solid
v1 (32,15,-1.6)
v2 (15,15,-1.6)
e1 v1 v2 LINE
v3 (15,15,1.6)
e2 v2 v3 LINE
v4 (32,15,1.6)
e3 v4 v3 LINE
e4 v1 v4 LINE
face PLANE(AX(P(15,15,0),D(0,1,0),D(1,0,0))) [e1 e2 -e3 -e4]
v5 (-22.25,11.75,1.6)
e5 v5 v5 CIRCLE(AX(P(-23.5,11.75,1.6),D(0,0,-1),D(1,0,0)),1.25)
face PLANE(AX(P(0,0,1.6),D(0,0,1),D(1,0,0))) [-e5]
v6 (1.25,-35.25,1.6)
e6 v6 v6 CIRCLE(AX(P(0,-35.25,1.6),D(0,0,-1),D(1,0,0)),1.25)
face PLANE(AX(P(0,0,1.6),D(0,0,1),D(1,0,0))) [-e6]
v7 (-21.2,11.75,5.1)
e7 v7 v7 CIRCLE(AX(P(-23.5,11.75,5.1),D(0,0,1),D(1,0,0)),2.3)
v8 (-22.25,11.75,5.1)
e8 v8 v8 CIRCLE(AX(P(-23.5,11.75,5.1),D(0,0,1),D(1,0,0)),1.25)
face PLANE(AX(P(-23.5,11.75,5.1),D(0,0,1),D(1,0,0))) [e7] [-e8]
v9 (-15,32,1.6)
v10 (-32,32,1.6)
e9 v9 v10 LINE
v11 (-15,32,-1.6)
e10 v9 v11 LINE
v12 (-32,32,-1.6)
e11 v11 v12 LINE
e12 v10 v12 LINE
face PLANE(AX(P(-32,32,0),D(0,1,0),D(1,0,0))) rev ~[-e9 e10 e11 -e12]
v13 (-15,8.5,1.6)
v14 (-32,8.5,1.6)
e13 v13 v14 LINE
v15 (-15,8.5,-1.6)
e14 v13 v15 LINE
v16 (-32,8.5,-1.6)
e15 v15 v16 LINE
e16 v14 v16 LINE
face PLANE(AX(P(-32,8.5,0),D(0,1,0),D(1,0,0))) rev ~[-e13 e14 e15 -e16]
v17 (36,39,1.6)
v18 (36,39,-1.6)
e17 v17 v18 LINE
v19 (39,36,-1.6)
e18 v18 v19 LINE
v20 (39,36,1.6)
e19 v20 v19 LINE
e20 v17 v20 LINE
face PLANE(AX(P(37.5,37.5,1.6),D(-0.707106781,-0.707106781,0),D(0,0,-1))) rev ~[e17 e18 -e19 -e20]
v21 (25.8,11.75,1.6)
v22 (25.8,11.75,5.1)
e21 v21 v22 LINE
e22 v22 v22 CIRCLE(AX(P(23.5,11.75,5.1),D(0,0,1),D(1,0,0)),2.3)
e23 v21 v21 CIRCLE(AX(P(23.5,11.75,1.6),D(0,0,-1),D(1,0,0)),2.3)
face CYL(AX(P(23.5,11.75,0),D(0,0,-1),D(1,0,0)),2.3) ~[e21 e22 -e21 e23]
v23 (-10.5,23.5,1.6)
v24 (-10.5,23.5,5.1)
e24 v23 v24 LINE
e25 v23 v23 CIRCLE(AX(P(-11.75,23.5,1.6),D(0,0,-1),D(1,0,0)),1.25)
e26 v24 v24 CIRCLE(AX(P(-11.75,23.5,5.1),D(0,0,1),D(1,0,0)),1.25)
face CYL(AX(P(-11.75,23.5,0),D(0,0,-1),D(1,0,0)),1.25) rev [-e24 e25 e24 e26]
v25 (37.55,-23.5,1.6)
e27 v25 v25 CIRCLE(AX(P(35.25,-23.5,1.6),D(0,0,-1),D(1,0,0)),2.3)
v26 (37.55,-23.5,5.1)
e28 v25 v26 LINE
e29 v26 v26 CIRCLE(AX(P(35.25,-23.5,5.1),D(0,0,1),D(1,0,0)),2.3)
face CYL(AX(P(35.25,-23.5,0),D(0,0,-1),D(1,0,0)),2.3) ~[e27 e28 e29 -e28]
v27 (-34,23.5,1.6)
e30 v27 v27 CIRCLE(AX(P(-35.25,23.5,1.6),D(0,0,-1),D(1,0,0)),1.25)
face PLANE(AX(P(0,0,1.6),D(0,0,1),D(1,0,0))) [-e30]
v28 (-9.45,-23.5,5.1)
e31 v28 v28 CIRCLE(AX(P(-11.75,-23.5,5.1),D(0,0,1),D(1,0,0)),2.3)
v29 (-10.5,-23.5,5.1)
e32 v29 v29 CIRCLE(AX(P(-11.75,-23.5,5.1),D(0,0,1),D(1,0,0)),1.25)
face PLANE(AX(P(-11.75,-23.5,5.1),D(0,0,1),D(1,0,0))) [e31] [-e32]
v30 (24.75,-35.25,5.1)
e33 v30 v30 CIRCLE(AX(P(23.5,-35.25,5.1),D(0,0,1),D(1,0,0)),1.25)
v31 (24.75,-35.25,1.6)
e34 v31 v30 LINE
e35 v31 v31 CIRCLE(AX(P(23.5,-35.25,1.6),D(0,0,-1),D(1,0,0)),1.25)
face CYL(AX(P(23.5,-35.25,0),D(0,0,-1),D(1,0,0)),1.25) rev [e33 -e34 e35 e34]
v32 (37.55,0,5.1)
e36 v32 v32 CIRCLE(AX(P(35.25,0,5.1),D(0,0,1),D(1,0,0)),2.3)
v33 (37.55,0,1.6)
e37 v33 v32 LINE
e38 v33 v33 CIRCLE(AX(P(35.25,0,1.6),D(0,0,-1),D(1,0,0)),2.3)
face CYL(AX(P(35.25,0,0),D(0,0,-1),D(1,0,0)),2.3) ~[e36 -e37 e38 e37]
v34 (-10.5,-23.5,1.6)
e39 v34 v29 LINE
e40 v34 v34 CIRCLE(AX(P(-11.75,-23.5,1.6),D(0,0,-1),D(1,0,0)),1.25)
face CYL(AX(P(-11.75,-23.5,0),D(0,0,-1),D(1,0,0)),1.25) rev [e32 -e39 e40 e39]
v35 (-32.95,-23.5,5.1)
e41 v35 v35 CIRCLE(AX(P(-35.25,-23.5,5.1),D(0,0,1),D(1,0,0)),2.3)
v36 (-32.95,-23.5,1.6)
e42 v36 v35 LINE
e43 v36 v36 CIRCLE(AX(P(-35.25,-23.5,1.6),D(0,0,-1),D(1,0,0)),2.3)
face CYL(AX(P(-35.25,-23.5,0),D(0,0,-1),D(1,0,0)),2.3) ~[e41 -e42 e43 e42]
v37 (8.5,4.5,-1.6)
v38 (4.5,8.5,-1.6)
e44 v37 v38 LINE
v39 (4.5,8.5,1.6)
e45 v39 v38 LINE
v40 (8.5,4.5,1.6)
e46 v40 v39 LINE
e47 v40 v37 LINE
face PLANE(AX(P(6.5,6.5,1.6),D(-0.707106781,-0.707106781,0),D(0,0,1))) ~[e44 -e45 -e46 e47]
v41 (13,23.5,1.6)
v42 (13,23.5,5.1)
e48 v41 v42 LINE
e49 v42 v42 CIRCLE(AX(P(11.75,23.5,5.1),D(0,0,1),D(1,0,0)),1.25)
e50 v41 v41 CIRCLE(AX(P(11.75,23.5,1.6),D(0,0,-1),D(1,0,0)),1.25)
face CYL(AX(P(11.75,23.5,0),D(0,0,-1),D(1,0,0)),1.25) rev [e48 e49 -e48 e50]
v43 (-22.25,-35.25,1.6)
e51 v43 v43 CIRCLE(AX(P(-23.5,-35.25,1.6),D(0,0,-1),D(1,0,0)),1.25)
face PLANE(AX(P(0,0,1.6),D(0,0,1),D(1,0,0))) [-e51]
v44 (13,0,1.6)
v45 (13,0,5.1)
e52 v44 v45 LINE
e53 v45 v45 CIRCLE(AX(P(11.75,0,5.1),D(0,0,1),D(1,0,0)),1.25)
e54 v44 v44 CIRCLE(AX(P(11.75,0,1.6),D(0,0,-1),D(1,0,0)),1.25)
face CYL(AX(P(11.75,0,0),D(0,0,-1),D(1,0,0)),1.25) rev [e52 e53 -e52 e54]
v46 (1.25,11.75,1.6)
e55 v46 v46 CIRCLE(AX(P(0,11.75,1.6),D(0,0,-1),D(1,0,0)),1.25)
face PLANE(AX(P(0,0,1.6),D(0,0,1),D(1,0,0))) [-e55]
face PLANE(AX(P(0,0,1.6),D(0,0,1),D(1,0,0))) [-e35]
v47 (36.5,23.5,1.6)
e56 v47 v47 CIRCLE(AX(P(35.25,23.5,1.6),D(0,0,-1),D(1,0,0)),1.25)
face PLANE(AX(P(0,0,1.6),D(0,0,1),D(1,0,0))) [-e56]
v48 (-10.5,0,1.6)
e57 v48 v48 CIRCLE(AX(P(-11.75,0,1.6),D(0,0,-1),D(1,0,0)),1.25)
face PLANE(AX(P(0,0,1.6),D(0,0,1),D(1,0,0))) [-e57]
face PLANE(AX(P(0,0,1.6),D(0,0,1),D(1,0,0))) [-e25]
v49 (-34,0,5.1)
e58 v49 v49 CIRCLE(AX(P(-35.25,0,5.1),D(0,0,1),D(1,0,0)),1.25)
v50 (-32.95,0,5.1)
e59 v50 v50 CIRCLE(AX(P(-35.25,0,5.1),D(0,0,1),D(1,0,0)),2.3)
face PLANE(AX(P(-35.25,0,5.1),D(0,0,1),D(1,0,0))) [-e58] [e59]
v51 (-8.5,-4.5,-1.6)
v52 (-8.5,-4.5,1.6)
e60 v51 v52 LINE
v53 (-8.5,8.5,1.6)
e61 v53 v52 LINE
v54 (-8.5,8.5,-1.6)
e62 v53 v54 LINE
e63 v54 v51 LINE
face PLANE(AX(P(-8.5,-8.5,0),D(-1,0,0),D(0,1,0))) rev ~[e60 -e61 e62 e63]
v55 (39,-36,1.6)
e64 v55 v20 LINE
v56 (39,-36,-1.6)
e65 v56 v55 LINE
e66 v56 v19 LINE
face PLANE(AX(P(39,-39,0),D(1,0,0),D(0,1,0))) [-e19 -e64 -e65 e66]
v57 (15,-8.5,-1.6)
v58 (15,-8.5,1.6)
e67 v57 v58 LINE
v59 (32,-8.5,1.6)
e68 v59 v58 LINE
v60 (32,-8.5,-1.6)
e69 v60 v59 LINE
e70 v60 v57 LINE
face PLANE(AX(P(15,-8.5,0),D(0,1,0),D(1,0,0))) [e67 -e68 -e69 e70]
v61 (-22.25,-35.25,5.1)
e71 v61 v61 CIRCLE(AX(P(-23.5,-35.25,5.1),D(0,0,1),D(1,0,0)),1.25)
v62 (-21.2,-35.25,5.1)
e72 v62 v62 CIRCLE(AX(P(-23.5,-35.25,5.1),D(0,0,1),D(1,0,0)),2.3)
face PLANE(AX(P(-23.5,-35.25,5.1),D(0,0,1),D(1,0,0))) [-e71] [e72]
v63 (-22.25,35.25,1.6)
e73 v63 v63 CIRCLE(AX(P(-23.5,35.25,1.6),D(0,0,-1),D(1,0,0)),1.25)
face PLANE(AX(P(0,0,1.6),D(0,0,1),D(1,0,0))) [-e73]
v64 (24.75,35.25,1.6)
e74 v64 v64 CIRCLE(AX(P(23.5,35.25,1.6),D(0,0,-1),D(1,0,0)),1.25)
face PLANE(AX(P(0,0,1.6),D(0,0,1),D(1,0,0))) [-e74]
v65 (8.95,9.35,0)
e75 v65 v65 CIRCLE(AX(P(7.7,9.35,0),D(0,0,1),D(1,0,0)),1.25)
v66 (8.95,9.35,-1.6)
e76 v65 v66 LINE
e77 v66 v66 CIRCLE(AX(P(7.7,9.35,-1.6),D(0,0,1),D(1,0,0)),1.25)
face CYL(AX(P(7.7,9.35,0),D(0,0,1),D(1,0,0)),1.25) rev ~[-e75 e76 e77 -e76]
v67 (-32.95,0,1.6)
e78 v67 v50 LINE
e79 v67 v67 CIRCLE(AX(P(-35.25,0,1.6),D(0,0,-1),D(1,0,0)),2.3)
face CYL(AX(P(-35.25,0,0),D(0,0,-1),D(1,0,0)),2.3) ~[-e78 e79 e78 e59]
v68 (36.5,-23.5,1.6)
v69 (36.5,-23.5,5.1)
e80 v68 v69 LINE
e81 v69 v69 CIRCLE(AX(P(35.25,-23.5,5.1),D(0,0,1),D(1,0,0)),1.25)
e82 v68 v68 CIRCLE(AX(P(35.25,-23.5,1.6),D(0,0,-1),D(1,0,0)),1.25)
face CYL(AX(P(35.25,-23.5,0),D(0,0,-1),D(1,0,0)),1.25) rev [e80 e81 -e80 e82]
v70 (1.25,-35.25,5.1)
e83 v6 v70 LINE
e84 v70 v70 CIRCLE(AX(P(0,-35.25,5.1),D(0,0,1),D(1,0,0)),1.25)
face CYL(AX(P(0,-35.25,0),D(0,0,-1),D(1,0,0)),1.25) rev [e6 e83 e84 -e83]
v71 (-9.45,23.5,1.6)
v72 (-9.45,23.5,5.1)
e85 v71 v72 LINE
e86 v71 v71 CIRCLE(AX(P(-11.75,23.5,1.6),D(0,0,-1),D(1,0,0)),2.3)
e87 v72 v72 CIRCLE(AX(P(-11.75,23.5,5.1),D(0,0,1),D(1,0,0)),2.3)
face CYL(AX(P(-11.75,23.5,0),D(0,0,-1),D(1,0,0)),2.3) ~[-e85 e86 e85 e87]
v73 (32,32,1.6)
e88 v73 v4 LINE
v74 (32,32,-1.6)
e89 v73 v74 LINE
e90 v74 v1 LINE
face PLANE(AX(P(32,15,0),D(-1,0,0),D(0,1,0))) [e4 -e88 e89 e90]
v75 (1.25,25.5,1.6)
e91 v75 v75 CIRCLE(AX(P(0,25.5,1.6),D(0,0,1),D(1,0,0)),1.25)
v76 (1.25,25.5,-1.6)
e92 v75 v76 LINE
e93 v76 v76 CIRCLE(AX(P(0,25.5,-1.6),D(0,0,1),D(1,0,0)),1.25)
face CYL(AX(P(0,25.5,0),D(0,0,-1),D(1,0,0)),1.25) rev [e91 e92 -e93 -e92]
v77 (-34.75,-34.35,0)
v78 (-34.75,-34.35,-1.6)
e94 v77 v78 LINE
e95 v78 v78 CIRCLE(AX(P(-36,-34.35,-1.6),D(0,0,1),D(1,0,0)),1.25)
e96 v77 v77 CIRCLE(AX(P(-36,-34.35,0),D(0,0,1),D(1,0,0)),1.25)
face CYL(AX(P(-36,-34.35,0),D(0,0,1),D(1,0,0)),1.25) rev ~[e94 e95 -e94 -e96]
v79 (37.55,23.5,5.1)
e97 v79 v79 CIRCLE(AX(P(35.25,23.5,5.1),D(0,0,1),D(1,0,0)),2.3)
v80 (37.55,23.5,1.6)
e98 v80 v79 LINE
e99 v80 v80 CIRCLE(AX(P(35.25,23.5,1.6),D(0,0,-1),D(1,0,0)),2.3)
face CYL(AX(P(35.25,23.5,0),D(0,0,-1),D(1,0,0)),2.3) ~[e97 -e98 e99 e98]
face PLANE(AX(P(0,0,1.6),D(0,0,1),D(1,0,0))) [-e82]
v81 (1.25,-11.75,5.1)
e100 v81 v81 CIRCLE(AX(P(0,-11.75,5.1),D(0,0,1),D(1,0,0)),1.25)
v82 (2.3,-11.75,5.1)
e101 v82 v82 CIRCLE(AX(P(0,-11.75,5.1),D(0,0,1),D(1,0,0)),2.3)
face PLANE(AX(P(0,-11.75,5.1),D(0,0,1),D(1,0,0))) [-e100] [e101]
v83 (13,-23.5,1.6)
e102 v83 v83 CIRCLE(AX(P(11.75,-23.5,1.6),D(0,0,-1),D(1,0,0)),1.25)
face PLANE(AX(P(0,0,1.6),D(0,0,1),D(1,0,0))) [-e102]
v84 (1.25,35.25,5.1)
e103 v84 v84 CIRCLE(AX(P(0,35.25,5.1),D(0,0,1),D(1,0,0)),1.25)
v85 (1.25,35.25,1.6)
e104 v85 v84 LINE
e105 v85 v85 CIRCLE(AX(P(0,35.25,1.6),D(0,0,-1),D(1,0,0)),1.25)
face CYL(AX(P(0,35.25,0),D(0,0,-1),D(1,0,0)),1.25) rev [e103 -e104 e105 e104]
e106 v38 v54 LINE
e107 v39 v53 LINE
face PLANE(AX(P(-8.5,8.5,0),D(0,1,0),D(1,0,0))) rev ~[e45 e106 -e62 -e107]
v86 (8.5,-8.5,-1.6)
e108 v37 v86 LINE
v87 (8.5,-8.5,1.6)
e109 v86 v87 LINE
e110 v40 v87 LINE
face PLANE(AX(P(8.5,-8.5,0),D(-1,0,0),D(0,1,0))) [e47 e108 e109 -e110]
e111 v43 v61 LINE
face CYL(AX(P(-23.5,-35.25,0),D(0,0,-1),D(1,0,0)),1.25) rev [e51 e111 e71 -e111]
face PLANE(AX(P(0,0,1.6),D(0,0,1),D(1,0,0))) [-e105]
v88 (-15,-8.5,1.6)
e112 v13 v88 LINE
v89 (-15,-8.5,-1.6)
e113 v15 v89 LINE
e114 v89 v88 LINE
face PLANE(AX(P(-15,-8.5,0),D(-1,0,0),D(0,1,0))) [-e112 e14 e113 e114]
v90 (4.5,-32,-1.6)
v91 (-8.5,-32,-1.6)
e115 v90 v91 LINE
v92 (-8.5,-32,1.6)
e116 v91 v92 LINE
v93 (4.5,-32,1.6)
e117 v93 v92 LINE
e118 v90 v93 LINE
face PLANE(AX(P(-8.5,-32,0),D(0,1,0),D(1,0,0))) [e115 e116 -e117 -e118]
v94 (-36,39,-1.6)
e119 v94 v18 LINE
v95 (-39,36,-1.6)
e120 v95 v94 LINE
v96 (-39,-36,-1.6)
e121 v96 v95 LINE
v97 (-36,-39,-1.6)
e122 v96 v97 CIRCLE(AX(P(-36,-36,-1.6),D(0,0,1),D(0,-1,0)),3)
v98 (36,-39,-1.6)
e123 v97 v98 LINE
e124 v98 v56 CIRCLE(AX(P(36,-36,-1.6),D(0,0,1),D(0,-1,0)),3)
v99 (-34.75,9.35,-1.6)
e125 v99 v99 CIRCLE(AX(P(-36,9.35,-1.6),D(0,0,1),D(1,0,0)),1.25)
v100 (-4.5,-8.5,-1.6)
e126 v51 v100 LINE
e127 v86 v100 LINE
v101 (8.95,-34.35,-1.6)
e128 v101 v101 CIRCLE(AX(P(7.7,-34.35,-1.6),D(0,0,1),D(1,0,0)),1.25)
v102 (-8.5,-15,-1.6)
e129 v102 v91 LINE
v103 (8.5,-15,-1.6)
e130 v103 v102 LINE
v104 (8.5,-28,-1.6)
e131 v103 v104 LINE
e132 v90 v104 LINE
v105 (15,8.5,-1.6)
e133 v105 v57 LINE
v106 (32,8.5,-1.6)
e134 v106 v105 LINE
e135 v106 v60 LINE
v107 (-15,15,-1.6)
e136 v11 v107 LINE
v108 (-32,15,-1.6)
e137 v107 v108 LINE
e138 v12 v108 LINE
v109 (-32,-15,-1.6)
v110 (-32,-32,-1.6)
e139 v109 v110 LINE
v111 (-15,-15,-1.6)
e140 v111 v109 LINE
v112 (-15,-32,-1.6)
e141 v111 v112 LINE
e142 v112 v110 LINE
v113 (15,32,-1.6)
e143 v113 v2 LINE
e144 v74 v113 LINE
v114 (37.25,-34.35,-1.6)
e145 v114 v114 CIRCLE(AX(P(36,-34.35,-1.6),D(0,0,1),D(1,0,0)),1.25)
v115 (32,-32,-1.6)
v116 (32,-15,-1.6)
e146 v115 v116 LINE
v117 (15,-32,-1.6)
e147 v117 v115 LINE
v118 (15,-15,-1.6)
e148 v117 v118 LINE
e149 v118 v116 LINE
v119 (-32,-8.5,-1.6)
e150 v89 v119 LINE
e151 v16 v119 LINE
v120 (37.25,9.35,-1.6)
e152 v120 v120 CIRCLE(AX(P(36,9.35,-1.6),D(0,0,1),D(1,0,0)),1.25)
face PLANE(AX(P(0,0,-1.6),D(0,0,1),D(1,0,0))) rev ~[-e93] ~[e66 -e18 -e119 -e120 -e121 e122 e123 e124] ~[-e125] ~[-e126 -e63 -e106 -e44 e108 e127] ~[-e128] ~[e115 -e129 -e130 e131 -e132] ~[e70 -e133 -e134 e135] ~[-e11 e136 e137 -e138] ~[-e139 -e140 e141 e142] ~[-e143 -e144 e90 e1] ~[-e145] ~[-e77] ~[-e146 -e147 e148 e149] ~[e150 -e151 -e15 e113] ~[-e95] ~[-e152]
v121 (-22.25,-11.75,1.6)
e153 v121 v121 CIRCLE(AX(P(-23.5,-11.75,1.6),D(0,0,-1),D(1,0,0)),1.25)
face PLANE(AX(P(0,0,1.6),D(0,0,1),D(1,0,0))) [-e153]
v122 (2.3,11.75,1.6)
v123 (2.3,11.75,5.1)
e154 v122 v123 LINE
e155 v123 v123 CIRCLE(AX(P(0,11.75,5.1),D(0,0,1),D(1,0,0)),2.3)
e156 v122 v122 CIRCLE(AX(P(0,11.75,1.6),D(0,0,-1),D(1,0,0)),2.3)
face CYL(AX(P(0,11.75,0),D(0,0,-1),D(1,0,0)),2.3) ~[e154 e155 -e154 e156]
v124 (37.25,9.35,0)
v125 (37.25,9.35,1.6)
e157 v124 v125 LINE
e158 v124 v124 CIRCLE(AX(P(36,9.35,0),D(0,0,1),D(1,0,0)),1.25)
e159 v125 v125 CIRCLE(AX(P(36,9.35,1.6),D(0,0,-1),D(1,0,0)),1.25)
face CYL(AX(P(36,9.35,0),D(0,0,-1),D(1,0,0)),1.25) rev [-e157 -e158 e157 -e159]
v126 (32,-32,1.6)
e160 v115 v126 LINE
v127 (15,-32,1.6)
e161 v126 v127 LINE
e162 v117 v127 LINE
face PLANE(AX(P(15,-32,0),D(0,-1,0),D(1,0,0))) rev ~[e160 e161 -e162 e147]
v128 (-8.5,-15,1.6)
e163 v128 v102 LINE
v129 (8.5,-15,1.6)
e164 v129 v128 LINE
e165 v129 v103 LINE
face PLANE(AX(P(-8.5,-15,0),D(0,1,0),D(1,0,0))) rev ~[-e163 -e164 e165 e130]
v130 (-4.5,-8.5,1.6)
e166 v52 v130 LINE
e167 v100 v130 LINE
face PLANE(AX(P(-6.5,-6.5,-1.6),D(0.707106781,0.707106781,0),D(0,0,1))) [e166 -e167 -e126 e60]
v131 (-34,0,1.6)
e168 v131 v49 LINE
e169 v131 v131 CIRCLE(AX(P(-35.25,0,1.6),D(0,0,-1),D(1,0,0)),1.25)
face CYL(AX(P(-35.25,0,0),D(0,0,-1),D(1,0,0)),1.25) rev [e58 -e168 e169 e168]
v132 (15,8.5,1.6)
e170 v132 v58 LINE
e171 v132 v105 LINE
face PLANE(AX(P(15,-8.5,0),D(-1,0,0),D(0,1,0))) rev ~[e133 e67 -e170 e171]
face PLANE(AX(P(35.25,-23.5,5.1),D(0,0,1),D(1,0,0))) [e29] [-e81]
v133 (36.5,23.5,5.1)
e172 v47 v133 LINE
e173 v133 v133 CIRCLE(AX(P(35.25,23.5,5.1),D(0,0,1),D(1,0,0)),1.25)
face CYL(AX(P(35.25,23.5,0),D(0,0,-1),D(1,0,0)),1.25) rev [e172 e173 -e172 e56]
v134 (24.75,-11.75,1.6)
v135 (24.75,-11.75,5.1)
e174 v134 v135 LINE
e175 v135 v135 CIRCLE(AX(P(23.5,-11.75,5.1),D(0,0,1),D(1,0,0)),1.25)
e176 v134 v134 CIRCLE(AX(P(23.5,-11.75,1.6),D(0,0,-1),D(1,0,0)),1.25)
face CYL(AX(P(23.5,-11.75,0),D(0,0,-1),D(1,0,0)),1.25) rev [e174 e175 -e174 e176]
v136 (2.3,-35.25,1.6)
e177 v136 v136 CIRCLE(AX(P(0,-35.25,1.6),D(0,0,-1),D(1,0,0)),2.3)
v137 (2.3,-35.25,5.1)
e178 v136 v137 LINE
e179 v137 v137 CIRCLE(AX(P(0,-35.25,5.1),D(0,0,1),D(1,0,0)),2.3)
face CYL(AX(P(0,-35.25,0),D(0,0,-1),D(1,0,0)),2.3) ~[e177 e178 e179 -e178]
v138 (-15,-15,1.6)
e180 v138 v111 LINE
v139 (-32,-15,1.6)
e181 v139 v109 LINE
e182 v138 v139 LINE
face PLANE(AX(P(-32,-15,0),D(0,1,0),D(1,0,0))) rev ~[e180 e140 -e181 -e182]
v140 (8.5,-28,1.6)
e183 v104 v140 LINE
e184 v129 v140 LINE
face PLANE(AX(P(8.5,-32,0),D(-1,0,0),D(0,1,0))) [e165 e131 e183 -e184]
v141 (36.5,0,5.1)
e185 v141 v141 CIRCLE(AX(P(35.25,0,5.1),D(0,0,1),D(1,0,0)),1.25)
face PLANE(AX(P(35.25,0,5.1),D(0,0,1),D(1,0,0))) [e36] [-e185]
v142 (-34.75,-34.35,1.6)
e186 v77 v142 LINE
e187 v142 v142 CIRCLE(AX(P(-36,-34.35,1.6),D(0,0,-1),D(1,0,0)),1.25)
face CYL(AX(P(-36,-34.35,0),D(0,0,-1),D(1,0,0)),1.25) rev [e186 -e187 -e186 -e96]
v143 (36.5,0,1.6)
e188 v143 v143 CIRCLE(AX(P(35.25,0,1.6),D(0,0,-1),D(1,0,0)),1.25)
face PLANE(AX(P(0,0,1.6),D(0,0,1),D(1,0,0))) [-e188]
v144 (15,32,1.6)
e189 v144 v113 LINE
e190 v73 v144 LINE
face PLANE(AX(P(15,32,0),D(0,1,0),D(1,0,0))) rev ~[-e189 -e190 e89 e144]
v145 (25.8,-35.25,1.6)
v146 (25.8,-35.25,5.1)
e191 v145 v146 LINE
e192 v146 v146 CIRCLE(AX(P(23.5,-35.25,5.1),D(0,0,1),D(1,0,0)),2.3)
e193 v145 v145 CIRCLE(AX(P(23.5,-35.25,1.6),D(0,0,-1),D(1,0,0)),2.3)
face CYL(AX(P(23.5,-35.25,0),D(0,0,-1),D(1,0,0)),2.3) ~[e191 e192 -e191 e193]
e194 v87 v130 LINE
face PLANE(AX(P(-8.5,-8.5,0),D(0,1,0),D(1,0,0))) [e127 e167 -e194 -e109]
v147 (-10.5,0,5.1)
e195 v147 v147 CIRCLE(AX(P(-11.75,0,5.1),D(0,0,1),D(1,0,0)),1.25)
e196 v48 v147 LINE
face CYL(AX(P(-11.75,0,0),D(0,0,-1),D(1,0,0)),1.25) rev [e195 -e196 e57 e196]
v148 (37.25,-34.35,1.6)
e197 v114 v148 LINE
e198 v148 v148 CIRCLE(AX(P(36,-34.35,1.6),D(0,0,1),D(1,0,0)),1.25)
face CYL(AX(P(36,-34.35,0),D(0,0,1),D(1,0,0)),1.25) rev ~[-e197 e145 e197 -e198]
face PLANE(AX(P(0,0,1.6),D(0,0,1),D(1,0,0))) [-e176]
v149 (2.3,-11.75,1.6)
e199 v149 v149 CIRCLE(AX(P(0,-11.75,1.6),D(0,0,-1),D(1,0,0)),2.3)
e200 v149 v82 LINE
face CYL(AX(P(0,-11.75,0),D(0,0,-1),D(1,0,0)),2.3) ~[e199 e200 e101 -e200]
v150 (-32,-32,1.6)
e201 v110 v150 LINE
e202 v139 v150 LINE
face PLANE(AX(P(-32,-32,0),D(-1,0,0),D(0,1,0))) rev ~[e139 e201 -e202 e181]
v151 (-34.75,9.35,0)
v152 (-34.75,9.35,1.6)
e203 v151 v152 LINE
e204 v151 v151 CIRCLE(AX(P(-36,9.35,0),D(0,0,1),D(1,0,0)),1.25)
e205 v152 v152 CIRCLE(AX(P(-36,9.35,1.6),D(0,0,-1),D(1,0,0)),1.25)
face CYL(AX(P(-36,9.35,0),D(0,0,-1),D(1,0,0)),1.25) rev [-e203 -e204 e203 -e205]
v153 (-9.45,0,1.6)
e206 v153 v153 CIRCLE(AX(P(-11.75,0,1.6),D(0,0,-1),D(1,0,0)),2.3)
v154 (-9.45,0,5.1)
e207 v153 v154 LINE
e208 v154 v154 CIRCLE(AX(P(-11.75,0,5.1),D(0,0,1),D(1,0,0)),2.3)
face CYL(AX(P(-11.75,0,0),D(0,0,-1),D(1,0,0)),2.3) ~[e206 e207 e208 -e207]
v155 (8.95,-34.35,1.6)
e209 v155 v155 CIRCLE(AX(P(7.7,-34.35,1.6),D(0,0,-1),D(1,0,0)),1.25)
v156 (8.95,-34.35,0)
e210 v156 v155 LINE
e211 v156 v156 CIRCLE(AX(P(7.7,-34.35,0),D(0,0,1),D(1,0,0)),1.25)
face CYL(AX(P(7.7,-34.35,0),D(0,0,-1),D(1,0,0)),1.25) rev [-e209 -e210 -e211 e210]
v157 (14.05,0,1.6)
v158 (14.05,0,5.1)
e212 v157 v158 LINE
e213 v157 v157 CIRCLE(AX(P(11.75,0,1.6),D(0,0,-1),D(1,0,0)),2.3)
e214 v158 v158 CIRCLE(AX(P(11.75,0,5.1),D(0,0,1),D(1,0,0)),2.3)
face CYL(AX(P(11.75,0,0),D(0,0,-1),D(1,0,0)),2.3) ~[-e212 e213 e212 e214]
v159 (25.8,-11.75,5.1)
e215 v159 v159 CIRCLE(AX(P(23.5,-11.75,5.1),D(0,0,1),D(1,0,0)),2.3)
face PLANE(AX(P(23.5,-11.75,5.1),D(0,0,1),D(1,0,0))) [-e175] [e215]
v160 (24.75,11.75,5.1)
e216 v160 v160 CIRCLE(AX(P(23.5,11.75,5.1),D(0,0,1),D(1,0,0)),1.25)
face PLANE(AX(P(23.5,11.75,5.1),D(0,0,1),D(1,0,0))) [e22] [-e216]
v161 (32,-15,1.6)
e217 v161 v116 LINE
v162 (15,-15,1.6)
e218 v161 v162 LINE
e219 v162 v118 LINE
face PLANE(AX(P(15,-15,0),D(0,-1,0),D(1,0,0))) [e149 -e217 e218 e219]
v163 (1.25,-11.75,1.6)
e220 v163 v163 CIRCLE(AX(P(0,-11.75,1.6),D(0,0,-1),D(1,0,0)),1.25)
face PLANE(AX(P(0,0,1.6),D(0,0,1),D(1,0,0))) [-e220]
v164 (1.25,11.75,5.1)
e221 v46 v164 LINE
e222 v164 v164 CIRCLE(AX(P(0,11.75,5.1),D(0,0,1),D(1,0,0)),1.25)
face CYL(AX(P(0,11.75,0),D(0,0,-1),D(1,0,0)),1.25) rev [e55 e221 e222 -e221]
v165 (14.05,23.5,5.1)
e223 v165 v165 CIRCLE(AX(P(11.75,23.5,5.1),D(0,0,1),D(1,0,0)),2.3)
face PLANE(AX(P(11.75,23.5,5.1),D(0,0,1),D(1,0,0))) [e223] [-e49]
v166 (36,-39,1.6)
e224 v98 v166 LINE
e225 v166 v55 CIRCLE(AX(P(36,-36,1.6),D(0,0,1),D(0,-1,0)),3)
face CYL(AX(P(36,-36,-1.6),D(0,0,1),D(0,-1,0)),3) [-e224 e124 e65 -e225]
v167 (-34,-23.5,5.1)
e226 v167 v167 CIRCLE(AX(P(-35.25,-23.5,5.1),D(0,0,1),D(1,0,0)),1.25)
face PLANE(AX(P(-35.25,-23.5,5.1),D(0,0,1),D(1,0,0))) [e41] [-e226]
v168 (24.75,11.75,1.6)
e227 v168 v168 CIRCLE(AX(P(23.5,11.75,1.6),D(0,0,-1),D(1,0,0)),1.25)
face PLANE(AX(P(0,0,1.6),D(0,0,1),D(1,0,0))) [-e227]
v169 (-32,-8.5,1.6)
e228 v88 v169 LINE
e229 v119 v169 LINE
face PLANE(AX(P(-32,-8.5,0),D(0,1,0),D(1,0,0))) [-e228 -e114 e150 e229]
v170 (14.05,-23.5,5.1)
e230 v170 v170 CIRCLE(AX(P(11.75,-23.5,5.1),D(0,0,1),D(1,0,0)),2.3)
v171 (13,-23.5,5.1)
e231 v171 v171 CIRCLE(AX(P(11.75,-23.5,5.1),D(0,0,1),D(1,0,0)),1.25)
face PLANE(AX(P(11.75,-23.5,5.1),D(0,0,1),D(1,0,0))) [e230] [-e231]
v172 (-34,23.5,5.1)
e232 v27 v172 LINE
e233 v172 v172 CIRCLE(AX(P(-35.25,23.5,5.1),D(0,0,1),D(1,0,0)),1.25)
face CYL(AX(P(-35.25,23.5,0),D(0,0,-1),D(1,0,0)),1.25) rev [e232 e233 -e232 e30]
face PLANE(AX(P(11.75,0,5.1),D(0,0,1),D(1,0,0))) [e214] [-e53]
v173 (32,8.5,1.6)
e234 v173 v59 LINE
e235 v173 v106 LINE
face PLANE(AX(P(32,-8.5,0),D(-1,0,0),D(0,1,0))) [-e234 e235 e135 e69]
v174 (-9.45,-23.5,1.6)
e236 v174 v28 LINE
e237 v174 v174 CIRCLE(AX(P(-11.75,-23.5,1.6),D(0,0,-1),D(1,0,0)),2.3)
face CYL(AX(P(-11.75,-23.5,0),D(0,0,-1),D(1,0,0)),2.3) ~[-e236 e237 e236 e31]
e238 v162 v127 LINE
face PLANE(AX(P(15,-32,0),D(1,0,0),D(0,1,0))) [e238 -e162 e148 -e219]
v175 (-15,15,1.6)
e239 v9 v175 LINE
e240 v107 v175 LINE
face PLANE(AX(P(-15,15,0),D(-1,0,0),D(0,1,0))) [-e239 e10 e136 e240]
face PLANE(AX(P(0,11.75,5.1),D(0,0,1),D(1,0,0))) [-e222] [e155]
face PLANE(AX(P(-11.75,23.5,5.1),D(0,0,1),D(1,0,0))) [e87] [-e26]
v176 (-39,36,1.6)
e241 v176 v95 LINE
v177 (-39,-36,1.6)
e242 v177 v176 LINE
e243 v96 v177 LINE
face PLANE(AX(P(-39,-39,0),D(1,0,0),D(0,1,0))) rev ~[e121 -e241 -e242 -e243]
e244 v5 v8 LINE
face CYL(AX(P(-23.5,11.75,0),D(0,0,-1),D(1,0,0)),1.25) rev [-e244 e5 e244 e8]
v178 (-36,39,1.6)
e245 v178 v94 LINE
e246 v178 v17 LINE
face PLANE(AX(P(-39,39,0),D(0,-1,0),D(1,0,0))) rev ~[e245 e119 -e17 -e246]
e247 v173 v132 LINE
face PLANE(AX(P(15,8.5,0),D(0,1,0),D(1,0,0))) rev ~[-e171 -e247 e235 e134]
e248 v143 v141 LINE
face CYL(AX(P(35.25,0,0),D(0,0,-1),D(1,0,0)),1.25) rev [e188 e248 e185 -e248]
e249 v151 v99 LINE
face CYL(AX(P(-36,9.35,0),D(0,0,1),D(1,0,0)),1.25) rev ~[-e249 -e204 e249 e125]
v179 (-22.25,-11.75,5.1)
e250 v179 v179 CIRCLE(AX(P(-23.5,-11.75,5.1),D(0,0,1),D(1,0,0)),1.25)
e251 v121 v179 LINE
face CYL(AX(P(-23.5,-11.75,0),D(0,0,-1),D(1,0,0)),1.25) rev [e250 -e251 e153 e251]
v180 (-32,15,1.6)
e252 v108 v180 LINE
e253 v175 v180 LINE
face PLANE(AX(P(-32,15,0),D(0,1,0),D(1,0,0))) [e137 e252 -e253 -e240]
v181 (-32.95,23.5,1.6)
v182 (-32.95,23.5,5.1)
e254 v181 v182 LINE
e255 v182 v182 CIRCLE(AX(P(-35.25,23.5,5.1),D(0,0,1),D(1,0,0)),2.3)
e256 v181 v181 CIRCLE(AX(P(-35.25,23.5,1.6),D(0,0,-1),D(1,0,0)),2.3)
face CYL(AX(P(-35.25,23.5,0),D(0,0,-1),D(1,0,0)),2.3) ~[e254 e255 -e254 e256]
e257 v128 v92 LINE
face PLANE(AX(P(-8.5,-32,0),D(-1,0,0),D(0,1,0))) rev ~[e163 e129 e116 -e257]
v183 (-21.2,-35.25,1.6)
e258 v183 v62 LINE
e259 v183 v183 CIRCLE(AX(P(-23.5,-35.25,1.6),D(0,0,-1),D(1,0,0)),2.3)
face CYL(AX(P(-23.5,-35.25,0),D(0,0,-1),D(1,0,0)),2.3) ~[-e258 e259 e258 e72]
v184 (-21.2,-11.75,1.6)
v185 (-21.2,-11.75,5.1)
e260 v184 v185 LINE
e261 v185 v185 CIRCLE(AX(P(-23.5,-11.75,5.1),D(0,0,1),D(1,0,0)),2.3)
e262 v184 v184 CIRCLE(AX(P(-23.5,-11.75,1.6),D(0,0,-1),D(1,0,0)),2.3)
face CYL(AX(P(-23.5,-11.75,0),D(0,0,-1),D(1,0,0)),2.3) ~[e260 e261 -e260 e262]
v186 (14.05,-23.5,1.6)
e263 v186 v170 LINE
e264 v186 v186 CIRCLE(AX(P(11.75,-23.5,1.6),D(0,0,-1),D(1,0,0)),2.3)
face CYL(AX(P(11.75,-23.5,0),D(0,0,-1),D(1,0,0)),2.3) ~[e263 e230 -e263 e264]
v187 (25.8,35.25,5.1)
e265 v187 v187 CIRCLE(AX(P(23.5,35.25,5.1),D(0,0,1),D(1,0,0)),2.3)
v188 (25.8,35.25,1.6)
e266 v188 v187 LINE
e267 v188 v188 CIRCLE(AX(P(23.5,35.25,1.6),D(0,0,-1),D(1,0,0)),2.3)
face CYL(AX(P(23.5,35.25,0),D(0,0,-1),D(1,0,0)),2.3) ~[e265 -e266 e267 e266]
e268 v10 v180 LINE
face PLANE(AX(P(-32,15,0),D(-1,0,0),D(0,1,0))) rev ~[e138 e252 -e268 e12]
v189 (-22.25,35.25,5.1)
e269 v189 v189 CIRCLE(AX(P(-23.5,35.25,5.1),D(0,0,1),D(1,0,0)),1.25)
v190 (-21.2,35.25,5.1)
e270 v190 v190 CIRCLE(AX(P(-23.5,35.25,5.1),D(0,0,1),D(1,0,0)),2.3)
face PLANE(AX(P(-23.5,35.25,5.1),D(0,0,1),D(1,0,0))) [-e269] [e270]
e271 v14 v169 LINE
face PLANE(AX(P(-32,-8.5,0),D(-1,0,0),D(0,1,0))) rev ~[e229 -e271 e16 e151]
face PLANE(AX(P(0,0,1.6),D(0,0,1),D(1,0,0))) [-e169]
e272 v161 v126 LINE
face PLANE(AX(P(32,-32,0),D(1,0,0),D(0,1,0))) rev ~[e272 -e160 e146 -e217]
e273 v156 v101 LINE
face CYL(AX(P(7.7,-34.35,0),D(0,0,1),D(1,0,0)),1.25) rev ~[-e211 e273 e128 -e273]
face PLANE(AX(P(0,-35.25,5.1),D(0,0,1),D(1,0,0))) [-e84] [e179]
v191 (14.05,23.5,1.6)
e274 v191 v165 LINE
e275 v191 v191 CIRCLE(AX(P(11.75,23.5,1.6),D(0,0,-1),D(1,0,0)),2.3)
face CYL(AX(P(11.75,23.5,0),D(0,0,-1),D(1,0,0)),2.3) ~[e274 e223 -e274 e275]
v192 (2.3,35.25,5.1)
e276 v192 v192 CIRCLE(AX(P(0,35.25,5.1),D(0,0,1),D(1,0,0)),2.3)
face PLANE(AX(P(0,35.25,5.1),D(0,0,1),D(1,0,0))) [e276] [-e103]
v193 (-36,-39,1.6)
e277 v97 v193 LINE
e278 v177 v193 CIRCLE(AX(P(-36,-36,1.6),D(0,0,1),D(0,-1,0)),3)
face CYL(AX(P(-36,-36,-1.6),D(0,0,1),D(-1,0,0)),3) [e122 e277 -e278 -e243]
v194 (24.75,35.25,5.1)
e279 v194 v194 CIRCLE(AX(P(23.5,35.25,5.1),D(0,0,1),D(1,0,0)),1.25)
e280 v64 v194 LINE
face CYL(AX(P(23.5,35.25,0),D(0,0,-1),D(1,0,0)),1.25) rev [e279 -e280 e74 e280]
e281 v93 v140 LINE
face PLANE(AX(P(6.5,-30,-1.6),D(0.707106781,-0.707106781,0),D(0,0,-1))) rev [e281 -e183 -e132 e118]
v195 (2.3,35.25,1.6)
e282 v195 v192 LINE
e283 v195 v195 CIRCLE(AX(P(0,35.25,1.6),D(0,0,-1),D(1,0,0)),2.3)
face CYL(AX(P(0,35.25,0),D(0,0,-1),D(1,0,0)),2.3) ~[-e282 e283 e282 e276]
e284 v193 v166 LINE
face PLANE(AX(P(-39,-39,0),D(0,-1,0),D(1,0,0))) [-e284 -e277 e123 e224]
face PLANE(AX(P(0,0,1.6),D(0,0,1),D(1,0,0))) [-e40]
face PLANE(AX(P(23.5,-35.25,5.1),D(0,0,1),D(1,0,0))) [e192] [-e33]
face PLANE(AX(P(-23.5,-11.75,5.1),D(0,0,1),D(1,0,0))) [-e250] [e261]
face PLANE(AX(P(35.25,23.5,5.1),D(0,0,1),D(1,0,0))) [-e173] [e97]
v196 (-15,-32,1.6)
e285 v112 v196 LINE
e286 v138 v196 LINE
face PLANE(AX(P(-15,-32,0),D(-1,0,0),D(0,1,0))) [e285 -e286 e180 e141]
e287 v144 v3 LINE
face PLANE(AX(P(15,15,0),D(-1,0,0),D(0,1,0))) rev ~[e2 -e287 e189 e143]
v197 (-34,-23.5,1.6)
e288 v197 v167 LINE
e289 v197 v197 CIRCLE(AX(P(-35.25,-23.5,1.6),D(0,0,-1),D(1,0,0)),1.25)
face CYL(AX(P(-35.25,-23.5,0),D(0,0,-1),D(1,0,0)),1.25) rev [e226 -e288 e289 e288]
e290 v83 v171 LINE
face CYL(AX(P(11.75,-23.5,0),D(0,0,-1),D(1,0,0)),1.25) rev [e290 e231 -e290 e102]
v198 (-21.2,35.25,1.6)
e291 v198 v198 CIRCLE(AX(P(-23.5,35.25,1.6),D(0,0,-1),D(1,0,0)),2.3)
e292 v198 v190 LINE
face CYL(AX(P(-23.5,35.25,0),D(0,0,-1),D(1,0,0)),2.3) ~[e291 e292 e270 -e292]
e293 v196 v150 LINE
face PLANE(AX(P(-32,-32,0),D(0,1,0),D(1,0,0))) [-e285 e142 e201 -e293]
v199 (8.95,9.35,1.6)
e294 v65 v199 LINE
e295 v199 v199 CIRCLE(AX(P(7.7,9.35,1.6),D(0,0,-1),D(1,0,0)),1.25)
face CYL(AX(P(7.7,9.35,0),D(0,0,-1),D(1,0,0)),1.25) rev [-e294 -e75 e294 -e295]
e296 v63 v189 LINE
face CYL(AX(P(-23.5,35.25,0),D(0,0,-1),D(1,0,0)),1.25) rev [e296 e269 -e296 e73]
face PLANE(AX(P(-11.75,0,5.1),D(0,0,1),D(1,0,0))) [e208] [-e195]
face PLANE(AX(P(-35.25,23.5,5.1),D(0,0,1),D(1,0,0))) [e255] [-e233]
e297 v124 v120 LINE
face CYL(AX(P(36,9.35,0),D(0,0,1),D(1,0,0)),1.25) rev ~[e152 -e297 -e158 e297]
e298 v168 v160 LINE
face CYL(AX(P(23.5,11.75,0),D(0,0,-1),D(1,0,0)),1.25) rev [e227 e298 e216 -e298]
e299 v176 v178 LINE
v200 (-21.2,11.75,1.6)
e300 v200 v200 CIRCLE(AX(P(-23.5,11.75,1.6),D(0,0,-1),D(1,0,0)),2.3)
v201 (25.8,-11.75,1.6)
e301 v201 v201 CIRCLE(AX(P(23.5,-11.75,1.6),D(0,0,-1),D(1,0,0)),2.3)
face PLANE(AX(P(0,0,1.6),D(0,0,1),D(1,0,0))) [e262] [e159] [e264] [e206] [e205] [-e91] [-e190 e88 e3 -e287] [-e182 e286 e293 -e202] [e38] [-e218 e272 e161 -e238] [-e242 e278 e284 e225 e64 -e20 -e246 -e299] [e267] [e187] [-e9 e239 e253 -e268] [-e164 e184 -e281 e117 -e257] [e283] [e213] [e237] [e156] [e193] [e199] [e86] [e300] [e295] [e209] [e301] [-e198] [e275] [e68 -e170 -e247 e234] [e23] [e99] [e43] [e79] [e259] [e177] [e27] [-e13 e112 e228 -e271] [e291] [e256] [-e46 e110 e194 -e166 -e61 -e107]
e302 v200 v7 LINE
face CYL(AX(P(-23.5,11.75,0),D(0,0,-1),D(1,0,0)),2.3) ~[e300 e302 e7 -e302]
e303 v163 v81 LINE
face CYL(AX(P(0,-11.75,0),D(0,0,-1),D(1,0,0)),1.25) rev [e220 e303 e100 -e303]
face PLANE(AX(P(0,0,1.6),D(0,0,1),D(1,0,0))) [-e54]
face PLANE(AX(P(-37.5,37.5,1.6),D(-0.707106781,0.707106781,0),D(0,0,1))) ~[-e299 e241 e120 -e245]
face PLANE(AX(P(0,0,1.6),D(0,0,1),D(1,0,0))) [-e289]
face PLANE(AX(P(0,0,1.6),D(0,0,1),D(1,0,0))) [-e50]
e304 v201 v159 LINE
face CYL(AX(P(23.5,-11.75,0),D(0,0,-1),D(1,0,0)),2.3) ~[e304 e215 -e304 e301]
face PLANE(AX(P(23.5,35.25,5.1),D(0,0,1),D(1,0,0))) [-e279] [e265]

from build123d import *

# Parameters (mm, degrees)
F1_W     = 78
F1_H     = 78
F1_R     = 2.3
F1_R_2   = 1.25
F2_DEPTH = 1.6
F3_W     = 17
F3_H     = 17
F3_R     = 2.3
F3_R_2   = 1.25
F4_DEPTH = 5.1
F5_DEPTH = 10
F6_SIZE  = 3
F7_R     = 3
F8_SIZE  = 4
F9_DEPTH = 12.5


with BuildPart() as f2:
    # F1 (on Top) → F2 (new body, symmetric)
    with BuildSketch(Plane.XY):
        Rectangle(F1_W, F1_H)
        with Locations((-36, -34.35)):
            Circle(F1_R, mode=Mode.SUBTRACT)
        with Locations((7.7, -34.35)):
            Circle(F1_R, mode=Mode.SUBTRACT)
        with Locations((36, -34.35)):
            Circle(F1_R, mode=Mode.SUBTRACT)
        with Locations((-36, 9.35)):
            Circle(F1_R, mode=Mode.SUBTRACT)
        with Locations((7.7, 9.35)):
            Circle(F1_R, mode=Mode.SUBTRACT)
        with Locations((36, 9.35)):
            Circle(F1_R, mode=Mode.SUBTRACT)
        with Locations((0, 25.5)):
            Circle(F1_R_2, mode=Mode.SUBTRACT)
        with Locations((-36, 9.35)):
            Circle(F1_R)
        with Locations((-36, 9.35)):
            Circle(F1_R_2, mode=Mode.SUBTRACT)
        with Locations((36, 9.35)):
            Circle(F1_R)
        with Locations((36, 9.35)):
            Circle(F1_R_2, mode=Mode.SUBTRACT)
        with Locations((36, -34.35)):
            Circle(F1_R)
        with Locations((36, -34.35)):
            Circle(F1_R_2, mode=Mode.SUBTRACT)
        with Locations((-36, -34.35)):
            Circle(F1_R)
        with Locations((-36, -34.35)):
            Circle(F1_R_2, mode=Mode.SUBTRACT)
        with Locations((7.7, 9.35)):
            Circle(F1_R)
        with Locations((7.7, 9.35)):
            Circle(F1_R_2, mode=Mode.SUBTRACT)
        with Locations((7.7, -34.35)):
            Circle(F1_R)
        with Locations((7.7, -34.35)):
            Circle(F1_R_2, mode=Mode.SUBTRACT)
        with Locations((-36, 9.35)):
            Circle(F1_R_2)
        with Locations((7.7, 9.35)):
            Circle(F1_R_2)
        with Locations((36, 9.35)):
            Circle(F1_R_2)
        with Locations((-36, -34.35)):
            Circle(F1_R_2)
        with Locations((7.7, -34.35)):
            Circle(F1_R_2)
        with Locations((36, -34.35)):
            Circle(F1_R_2)
    extrude(amount=F2_DEPTH, both=True)

    # F3 (on Top) → F4 (join)
    with BuildSketch(Plane.XY):
        Rectangle(F3_W, F3_H)
        with Locations((-23.5, 0)):
            Rectangle(F3_W, F3_H)
        with Locations((23.5, 0)):
            Rectangle(F3_W, F3_H)
        with Locations((23.5, 23.5)):
            Rectangle(F3_W, F3_H)
        with Locations((-23.5, -23.5)):
            Rectangle(F3_W, F3_H)
        with Locations((0, -23.5)):
            Rectangle(F3_W, F3_H)
        with Locations((23.5, -23.5)):
            Rectangle(F3_W, F3_H)
        with Locations((-23.5, 23.5)):
            Rectangle(F3_W, F3_H)
        with Locations((-11.75, 0)):
            Circle(F3_R)
        with Locations((-11.75, 0)):
            Circle(F3_R_2, mode=Mode.SUBTRACT)
        with Locations((0, 11.75)):
            Circle(F3_R)
        with Locations((0, 11.75)):
            Circle(F3_R_2, mode=Mode.SUBTRACT)
        with Locations((11.75, 0)):
            Circle(F3_R)
        with Locations((11.75, 0)):
            Circle(F3_R_2, mode=Mode.SUBTRACT)
        with Locations((0, -11.75)):
            Circle(F3_R)
        with Locations((0, -11.75)):
            Circle(F3_R_2, mode=Mode.SUBTRACT)
        with Locations((-11.75, -23.5)):
            Circle(F3_R)
        with Locations((-11.75, -23.5)):
            Circle(F3_R_2, mode=Mode.SUBTRACT)
        with Locations((-35.25, -23.5)):
            Circle(F3_R)
        with Locations((-35.25, -23.5)):
            Circle(F3_R_2, mode=Mode.SUBTRACT)
        with Locations((11.75, -23.5)):
            Circle(F3_R)
        with Locations((11.75, -23.5)):
            Circle(F3_R_2, mode=Mode.SUBTRACT)
        with Locations((35.25, -23.5)):
            Circle(F3_R)
        with Locations((35.25, -23.5)):
            Circle(F3_R_2, mode=Mode.SUBTRACT)
        with Locations((35.25, 0)):
            Circle(F3_R)
        with Locations((35.25, 0)):
            Circle(F3_R_2, mode=Mode.SUBTRACT)
        with Locations((23.5, -11.75)):
            Circle(F3_R)
        with Locations((23.5, -11.75)):
            Circle(F3_R_2, mode=Mode.SUBTRACT)
        with Locations((-23.5, -11.75)):
            Circle(F3_R)
        with Locations((-23.5, -11.75)):
            Circle(F3_R_2, mode=Mode.SUBTRACT)
        with Locations((-35.25, 0)):
            Circle(F3_R)
        with Locations((-35.25, 0)):
            Circle(F3_R_2, mode=Mode.SUBTRACT)
        with Locations((-35.25, 23.5)):
            Circle(F3_R)
        with Locations((-35.25, 23.5)):
            Circle(F3_R_2, mode=Mode.SUBTRACT)
        with Locations((-23.5, 35.25)):
            Circle(F3_R)
        with Locations((-23.5, 35.25)):
            Circle(F3_R_2, mode=Mode.SUBTRACT)
        with Locations((-23.5, 11.75)):
            Circle(F3_R)
        with Locations((-23.5, 11.75)):
            Circle(F3_R_2, mode=Mode.SUBTRACT)
        with Locations((-11.75, 23.5)):
            Circle(F3_R)
        with Locations((-11.75, 23.5)):
            Circle(F3_R_2, mode=Mode.SUBTRACT)
        with Locations((11.75, 23.5)):
            Circle(F3_R)
        with Locations((11.75, 23.5)):
            Circle(F3_R_2, mode=Mode.SUBTRACT)
        with Locations((35.25, 23.5)):
            Circle(F3_R)
        with Locations((35.25, 23.5)):
            Circle(F3_R_2, mode=Mode.SUBTRACT)
        with Locations((23.5, 11.75)):
            Circle(F3_R)
        with Locations((23.5, 11.75)):
            Circle(F3_R_2, mode=Mode.SUBTRACT)
        with Locations((23.5, 35.25)):
            Circle(F3_R)
        with Locations((23.5, 35.25)):
            Circle(F3_R_2, mode=Mode.SUBTRACT)
        with Locations((0, 35.25)):
            Circle(F3_R)
        with Locations((0, 35.25)):
            Circle(F3_R_2, mode=Mode.SUBTRACT)
        with Locations((-23.5, -35.25)):
            Circle(F3_R)
        with Locations((-23.5, -35.25)):
            Circle(F3_R_2, mode=Mode.SUBTRACT)
        with Locations((0, -35.25)):
            Circle(F3_R)
        with Locations((0, -35.25)):
            Circle(F3_R_2, mode=Mode.SUBTRACT)
        with Locations((23.5, -35.25)):
            Circle(F3_R)
        with Locations((23.5, -35.25)):
            Circle(F3_R_2, mode=Mode.SUBTRACT)
    extrude(amount=F4_DEPTH)

    # F3 (on Top) → F5 (cut, symmetric)
    with BuildSketch(Plane.XY):
        with Locations((-23.5, 23.5)):
            Rectangle(F3_W, F3_H)
        with Locations((23.5, 23.5)):
            Rectangle(F3_W, F3_H)
        with Locations((23.5, 0)):
            Rectangle(F3_W, F3_H)
        Rectangle(F3_W, F3_H)
        with Locations((-23.5, 0)):
            Rectangle(F3_W, F3_H)
        with Locations((-23.5, -23.5)):
            Rectangle(F3_W, F3_H)
        with Locations((0, -23.5)):
            Rectangle(F3_W, F3_H)
        with Locations((23.5, -23.5)):
            Rectangle(F3_W, F3_H)
    extrude(amount=F5_DEPTH, both=True, mode=Mode.SUBTRACT)

    # F6
    f6_edges = [f2.edges().sort_by_distance(p)[0] for p in [
        (39, 39, 0),
        (-39, 39, 0),
    ]]
    chamfer(f6_edges, length=F6_SIZE)

    # F7
    f7_edges = [f2.edges().sort_by_distance(p)[0] for p in [
        (-39, -39, 0),
        (39, -39, 0),
    ]]
    fillet(f7_edges, radius=F7_R)

    # F8
    f8_edges = [f2.edges().sort_by_distance(p)[0] for p in [
        (8.5, 8.5, 0),
        (-8.5, -8.5, 0),
        (8.5, -32, 0),
    ]]
    chamfer(f8_edges, length=F8_SIZE)

    # F1 (on Top) → F9 (cut, symmetric)
    with BuildSketch(Plane.XY):
        with Locations((7.7, 9.35)):
            Circle(F1_R_2)
        with Locations((-36, 9.35)):
            Circle(F1_R_2)
        with Locations((-36, -34.35)):
            Circle(F1_R_2)
        with Locations((7.7, -34.35)):
            Circle(F1_R_2)
        with Locations((36, 9.35)):
            Circle(F1_R_2)
        with Locations((36, -34.35)):
            Circle(F1_R_2)
    extrude(amount=F9_DEPTH, both=True, mode=Mode.SUBTRACT)


solid = f2.part
